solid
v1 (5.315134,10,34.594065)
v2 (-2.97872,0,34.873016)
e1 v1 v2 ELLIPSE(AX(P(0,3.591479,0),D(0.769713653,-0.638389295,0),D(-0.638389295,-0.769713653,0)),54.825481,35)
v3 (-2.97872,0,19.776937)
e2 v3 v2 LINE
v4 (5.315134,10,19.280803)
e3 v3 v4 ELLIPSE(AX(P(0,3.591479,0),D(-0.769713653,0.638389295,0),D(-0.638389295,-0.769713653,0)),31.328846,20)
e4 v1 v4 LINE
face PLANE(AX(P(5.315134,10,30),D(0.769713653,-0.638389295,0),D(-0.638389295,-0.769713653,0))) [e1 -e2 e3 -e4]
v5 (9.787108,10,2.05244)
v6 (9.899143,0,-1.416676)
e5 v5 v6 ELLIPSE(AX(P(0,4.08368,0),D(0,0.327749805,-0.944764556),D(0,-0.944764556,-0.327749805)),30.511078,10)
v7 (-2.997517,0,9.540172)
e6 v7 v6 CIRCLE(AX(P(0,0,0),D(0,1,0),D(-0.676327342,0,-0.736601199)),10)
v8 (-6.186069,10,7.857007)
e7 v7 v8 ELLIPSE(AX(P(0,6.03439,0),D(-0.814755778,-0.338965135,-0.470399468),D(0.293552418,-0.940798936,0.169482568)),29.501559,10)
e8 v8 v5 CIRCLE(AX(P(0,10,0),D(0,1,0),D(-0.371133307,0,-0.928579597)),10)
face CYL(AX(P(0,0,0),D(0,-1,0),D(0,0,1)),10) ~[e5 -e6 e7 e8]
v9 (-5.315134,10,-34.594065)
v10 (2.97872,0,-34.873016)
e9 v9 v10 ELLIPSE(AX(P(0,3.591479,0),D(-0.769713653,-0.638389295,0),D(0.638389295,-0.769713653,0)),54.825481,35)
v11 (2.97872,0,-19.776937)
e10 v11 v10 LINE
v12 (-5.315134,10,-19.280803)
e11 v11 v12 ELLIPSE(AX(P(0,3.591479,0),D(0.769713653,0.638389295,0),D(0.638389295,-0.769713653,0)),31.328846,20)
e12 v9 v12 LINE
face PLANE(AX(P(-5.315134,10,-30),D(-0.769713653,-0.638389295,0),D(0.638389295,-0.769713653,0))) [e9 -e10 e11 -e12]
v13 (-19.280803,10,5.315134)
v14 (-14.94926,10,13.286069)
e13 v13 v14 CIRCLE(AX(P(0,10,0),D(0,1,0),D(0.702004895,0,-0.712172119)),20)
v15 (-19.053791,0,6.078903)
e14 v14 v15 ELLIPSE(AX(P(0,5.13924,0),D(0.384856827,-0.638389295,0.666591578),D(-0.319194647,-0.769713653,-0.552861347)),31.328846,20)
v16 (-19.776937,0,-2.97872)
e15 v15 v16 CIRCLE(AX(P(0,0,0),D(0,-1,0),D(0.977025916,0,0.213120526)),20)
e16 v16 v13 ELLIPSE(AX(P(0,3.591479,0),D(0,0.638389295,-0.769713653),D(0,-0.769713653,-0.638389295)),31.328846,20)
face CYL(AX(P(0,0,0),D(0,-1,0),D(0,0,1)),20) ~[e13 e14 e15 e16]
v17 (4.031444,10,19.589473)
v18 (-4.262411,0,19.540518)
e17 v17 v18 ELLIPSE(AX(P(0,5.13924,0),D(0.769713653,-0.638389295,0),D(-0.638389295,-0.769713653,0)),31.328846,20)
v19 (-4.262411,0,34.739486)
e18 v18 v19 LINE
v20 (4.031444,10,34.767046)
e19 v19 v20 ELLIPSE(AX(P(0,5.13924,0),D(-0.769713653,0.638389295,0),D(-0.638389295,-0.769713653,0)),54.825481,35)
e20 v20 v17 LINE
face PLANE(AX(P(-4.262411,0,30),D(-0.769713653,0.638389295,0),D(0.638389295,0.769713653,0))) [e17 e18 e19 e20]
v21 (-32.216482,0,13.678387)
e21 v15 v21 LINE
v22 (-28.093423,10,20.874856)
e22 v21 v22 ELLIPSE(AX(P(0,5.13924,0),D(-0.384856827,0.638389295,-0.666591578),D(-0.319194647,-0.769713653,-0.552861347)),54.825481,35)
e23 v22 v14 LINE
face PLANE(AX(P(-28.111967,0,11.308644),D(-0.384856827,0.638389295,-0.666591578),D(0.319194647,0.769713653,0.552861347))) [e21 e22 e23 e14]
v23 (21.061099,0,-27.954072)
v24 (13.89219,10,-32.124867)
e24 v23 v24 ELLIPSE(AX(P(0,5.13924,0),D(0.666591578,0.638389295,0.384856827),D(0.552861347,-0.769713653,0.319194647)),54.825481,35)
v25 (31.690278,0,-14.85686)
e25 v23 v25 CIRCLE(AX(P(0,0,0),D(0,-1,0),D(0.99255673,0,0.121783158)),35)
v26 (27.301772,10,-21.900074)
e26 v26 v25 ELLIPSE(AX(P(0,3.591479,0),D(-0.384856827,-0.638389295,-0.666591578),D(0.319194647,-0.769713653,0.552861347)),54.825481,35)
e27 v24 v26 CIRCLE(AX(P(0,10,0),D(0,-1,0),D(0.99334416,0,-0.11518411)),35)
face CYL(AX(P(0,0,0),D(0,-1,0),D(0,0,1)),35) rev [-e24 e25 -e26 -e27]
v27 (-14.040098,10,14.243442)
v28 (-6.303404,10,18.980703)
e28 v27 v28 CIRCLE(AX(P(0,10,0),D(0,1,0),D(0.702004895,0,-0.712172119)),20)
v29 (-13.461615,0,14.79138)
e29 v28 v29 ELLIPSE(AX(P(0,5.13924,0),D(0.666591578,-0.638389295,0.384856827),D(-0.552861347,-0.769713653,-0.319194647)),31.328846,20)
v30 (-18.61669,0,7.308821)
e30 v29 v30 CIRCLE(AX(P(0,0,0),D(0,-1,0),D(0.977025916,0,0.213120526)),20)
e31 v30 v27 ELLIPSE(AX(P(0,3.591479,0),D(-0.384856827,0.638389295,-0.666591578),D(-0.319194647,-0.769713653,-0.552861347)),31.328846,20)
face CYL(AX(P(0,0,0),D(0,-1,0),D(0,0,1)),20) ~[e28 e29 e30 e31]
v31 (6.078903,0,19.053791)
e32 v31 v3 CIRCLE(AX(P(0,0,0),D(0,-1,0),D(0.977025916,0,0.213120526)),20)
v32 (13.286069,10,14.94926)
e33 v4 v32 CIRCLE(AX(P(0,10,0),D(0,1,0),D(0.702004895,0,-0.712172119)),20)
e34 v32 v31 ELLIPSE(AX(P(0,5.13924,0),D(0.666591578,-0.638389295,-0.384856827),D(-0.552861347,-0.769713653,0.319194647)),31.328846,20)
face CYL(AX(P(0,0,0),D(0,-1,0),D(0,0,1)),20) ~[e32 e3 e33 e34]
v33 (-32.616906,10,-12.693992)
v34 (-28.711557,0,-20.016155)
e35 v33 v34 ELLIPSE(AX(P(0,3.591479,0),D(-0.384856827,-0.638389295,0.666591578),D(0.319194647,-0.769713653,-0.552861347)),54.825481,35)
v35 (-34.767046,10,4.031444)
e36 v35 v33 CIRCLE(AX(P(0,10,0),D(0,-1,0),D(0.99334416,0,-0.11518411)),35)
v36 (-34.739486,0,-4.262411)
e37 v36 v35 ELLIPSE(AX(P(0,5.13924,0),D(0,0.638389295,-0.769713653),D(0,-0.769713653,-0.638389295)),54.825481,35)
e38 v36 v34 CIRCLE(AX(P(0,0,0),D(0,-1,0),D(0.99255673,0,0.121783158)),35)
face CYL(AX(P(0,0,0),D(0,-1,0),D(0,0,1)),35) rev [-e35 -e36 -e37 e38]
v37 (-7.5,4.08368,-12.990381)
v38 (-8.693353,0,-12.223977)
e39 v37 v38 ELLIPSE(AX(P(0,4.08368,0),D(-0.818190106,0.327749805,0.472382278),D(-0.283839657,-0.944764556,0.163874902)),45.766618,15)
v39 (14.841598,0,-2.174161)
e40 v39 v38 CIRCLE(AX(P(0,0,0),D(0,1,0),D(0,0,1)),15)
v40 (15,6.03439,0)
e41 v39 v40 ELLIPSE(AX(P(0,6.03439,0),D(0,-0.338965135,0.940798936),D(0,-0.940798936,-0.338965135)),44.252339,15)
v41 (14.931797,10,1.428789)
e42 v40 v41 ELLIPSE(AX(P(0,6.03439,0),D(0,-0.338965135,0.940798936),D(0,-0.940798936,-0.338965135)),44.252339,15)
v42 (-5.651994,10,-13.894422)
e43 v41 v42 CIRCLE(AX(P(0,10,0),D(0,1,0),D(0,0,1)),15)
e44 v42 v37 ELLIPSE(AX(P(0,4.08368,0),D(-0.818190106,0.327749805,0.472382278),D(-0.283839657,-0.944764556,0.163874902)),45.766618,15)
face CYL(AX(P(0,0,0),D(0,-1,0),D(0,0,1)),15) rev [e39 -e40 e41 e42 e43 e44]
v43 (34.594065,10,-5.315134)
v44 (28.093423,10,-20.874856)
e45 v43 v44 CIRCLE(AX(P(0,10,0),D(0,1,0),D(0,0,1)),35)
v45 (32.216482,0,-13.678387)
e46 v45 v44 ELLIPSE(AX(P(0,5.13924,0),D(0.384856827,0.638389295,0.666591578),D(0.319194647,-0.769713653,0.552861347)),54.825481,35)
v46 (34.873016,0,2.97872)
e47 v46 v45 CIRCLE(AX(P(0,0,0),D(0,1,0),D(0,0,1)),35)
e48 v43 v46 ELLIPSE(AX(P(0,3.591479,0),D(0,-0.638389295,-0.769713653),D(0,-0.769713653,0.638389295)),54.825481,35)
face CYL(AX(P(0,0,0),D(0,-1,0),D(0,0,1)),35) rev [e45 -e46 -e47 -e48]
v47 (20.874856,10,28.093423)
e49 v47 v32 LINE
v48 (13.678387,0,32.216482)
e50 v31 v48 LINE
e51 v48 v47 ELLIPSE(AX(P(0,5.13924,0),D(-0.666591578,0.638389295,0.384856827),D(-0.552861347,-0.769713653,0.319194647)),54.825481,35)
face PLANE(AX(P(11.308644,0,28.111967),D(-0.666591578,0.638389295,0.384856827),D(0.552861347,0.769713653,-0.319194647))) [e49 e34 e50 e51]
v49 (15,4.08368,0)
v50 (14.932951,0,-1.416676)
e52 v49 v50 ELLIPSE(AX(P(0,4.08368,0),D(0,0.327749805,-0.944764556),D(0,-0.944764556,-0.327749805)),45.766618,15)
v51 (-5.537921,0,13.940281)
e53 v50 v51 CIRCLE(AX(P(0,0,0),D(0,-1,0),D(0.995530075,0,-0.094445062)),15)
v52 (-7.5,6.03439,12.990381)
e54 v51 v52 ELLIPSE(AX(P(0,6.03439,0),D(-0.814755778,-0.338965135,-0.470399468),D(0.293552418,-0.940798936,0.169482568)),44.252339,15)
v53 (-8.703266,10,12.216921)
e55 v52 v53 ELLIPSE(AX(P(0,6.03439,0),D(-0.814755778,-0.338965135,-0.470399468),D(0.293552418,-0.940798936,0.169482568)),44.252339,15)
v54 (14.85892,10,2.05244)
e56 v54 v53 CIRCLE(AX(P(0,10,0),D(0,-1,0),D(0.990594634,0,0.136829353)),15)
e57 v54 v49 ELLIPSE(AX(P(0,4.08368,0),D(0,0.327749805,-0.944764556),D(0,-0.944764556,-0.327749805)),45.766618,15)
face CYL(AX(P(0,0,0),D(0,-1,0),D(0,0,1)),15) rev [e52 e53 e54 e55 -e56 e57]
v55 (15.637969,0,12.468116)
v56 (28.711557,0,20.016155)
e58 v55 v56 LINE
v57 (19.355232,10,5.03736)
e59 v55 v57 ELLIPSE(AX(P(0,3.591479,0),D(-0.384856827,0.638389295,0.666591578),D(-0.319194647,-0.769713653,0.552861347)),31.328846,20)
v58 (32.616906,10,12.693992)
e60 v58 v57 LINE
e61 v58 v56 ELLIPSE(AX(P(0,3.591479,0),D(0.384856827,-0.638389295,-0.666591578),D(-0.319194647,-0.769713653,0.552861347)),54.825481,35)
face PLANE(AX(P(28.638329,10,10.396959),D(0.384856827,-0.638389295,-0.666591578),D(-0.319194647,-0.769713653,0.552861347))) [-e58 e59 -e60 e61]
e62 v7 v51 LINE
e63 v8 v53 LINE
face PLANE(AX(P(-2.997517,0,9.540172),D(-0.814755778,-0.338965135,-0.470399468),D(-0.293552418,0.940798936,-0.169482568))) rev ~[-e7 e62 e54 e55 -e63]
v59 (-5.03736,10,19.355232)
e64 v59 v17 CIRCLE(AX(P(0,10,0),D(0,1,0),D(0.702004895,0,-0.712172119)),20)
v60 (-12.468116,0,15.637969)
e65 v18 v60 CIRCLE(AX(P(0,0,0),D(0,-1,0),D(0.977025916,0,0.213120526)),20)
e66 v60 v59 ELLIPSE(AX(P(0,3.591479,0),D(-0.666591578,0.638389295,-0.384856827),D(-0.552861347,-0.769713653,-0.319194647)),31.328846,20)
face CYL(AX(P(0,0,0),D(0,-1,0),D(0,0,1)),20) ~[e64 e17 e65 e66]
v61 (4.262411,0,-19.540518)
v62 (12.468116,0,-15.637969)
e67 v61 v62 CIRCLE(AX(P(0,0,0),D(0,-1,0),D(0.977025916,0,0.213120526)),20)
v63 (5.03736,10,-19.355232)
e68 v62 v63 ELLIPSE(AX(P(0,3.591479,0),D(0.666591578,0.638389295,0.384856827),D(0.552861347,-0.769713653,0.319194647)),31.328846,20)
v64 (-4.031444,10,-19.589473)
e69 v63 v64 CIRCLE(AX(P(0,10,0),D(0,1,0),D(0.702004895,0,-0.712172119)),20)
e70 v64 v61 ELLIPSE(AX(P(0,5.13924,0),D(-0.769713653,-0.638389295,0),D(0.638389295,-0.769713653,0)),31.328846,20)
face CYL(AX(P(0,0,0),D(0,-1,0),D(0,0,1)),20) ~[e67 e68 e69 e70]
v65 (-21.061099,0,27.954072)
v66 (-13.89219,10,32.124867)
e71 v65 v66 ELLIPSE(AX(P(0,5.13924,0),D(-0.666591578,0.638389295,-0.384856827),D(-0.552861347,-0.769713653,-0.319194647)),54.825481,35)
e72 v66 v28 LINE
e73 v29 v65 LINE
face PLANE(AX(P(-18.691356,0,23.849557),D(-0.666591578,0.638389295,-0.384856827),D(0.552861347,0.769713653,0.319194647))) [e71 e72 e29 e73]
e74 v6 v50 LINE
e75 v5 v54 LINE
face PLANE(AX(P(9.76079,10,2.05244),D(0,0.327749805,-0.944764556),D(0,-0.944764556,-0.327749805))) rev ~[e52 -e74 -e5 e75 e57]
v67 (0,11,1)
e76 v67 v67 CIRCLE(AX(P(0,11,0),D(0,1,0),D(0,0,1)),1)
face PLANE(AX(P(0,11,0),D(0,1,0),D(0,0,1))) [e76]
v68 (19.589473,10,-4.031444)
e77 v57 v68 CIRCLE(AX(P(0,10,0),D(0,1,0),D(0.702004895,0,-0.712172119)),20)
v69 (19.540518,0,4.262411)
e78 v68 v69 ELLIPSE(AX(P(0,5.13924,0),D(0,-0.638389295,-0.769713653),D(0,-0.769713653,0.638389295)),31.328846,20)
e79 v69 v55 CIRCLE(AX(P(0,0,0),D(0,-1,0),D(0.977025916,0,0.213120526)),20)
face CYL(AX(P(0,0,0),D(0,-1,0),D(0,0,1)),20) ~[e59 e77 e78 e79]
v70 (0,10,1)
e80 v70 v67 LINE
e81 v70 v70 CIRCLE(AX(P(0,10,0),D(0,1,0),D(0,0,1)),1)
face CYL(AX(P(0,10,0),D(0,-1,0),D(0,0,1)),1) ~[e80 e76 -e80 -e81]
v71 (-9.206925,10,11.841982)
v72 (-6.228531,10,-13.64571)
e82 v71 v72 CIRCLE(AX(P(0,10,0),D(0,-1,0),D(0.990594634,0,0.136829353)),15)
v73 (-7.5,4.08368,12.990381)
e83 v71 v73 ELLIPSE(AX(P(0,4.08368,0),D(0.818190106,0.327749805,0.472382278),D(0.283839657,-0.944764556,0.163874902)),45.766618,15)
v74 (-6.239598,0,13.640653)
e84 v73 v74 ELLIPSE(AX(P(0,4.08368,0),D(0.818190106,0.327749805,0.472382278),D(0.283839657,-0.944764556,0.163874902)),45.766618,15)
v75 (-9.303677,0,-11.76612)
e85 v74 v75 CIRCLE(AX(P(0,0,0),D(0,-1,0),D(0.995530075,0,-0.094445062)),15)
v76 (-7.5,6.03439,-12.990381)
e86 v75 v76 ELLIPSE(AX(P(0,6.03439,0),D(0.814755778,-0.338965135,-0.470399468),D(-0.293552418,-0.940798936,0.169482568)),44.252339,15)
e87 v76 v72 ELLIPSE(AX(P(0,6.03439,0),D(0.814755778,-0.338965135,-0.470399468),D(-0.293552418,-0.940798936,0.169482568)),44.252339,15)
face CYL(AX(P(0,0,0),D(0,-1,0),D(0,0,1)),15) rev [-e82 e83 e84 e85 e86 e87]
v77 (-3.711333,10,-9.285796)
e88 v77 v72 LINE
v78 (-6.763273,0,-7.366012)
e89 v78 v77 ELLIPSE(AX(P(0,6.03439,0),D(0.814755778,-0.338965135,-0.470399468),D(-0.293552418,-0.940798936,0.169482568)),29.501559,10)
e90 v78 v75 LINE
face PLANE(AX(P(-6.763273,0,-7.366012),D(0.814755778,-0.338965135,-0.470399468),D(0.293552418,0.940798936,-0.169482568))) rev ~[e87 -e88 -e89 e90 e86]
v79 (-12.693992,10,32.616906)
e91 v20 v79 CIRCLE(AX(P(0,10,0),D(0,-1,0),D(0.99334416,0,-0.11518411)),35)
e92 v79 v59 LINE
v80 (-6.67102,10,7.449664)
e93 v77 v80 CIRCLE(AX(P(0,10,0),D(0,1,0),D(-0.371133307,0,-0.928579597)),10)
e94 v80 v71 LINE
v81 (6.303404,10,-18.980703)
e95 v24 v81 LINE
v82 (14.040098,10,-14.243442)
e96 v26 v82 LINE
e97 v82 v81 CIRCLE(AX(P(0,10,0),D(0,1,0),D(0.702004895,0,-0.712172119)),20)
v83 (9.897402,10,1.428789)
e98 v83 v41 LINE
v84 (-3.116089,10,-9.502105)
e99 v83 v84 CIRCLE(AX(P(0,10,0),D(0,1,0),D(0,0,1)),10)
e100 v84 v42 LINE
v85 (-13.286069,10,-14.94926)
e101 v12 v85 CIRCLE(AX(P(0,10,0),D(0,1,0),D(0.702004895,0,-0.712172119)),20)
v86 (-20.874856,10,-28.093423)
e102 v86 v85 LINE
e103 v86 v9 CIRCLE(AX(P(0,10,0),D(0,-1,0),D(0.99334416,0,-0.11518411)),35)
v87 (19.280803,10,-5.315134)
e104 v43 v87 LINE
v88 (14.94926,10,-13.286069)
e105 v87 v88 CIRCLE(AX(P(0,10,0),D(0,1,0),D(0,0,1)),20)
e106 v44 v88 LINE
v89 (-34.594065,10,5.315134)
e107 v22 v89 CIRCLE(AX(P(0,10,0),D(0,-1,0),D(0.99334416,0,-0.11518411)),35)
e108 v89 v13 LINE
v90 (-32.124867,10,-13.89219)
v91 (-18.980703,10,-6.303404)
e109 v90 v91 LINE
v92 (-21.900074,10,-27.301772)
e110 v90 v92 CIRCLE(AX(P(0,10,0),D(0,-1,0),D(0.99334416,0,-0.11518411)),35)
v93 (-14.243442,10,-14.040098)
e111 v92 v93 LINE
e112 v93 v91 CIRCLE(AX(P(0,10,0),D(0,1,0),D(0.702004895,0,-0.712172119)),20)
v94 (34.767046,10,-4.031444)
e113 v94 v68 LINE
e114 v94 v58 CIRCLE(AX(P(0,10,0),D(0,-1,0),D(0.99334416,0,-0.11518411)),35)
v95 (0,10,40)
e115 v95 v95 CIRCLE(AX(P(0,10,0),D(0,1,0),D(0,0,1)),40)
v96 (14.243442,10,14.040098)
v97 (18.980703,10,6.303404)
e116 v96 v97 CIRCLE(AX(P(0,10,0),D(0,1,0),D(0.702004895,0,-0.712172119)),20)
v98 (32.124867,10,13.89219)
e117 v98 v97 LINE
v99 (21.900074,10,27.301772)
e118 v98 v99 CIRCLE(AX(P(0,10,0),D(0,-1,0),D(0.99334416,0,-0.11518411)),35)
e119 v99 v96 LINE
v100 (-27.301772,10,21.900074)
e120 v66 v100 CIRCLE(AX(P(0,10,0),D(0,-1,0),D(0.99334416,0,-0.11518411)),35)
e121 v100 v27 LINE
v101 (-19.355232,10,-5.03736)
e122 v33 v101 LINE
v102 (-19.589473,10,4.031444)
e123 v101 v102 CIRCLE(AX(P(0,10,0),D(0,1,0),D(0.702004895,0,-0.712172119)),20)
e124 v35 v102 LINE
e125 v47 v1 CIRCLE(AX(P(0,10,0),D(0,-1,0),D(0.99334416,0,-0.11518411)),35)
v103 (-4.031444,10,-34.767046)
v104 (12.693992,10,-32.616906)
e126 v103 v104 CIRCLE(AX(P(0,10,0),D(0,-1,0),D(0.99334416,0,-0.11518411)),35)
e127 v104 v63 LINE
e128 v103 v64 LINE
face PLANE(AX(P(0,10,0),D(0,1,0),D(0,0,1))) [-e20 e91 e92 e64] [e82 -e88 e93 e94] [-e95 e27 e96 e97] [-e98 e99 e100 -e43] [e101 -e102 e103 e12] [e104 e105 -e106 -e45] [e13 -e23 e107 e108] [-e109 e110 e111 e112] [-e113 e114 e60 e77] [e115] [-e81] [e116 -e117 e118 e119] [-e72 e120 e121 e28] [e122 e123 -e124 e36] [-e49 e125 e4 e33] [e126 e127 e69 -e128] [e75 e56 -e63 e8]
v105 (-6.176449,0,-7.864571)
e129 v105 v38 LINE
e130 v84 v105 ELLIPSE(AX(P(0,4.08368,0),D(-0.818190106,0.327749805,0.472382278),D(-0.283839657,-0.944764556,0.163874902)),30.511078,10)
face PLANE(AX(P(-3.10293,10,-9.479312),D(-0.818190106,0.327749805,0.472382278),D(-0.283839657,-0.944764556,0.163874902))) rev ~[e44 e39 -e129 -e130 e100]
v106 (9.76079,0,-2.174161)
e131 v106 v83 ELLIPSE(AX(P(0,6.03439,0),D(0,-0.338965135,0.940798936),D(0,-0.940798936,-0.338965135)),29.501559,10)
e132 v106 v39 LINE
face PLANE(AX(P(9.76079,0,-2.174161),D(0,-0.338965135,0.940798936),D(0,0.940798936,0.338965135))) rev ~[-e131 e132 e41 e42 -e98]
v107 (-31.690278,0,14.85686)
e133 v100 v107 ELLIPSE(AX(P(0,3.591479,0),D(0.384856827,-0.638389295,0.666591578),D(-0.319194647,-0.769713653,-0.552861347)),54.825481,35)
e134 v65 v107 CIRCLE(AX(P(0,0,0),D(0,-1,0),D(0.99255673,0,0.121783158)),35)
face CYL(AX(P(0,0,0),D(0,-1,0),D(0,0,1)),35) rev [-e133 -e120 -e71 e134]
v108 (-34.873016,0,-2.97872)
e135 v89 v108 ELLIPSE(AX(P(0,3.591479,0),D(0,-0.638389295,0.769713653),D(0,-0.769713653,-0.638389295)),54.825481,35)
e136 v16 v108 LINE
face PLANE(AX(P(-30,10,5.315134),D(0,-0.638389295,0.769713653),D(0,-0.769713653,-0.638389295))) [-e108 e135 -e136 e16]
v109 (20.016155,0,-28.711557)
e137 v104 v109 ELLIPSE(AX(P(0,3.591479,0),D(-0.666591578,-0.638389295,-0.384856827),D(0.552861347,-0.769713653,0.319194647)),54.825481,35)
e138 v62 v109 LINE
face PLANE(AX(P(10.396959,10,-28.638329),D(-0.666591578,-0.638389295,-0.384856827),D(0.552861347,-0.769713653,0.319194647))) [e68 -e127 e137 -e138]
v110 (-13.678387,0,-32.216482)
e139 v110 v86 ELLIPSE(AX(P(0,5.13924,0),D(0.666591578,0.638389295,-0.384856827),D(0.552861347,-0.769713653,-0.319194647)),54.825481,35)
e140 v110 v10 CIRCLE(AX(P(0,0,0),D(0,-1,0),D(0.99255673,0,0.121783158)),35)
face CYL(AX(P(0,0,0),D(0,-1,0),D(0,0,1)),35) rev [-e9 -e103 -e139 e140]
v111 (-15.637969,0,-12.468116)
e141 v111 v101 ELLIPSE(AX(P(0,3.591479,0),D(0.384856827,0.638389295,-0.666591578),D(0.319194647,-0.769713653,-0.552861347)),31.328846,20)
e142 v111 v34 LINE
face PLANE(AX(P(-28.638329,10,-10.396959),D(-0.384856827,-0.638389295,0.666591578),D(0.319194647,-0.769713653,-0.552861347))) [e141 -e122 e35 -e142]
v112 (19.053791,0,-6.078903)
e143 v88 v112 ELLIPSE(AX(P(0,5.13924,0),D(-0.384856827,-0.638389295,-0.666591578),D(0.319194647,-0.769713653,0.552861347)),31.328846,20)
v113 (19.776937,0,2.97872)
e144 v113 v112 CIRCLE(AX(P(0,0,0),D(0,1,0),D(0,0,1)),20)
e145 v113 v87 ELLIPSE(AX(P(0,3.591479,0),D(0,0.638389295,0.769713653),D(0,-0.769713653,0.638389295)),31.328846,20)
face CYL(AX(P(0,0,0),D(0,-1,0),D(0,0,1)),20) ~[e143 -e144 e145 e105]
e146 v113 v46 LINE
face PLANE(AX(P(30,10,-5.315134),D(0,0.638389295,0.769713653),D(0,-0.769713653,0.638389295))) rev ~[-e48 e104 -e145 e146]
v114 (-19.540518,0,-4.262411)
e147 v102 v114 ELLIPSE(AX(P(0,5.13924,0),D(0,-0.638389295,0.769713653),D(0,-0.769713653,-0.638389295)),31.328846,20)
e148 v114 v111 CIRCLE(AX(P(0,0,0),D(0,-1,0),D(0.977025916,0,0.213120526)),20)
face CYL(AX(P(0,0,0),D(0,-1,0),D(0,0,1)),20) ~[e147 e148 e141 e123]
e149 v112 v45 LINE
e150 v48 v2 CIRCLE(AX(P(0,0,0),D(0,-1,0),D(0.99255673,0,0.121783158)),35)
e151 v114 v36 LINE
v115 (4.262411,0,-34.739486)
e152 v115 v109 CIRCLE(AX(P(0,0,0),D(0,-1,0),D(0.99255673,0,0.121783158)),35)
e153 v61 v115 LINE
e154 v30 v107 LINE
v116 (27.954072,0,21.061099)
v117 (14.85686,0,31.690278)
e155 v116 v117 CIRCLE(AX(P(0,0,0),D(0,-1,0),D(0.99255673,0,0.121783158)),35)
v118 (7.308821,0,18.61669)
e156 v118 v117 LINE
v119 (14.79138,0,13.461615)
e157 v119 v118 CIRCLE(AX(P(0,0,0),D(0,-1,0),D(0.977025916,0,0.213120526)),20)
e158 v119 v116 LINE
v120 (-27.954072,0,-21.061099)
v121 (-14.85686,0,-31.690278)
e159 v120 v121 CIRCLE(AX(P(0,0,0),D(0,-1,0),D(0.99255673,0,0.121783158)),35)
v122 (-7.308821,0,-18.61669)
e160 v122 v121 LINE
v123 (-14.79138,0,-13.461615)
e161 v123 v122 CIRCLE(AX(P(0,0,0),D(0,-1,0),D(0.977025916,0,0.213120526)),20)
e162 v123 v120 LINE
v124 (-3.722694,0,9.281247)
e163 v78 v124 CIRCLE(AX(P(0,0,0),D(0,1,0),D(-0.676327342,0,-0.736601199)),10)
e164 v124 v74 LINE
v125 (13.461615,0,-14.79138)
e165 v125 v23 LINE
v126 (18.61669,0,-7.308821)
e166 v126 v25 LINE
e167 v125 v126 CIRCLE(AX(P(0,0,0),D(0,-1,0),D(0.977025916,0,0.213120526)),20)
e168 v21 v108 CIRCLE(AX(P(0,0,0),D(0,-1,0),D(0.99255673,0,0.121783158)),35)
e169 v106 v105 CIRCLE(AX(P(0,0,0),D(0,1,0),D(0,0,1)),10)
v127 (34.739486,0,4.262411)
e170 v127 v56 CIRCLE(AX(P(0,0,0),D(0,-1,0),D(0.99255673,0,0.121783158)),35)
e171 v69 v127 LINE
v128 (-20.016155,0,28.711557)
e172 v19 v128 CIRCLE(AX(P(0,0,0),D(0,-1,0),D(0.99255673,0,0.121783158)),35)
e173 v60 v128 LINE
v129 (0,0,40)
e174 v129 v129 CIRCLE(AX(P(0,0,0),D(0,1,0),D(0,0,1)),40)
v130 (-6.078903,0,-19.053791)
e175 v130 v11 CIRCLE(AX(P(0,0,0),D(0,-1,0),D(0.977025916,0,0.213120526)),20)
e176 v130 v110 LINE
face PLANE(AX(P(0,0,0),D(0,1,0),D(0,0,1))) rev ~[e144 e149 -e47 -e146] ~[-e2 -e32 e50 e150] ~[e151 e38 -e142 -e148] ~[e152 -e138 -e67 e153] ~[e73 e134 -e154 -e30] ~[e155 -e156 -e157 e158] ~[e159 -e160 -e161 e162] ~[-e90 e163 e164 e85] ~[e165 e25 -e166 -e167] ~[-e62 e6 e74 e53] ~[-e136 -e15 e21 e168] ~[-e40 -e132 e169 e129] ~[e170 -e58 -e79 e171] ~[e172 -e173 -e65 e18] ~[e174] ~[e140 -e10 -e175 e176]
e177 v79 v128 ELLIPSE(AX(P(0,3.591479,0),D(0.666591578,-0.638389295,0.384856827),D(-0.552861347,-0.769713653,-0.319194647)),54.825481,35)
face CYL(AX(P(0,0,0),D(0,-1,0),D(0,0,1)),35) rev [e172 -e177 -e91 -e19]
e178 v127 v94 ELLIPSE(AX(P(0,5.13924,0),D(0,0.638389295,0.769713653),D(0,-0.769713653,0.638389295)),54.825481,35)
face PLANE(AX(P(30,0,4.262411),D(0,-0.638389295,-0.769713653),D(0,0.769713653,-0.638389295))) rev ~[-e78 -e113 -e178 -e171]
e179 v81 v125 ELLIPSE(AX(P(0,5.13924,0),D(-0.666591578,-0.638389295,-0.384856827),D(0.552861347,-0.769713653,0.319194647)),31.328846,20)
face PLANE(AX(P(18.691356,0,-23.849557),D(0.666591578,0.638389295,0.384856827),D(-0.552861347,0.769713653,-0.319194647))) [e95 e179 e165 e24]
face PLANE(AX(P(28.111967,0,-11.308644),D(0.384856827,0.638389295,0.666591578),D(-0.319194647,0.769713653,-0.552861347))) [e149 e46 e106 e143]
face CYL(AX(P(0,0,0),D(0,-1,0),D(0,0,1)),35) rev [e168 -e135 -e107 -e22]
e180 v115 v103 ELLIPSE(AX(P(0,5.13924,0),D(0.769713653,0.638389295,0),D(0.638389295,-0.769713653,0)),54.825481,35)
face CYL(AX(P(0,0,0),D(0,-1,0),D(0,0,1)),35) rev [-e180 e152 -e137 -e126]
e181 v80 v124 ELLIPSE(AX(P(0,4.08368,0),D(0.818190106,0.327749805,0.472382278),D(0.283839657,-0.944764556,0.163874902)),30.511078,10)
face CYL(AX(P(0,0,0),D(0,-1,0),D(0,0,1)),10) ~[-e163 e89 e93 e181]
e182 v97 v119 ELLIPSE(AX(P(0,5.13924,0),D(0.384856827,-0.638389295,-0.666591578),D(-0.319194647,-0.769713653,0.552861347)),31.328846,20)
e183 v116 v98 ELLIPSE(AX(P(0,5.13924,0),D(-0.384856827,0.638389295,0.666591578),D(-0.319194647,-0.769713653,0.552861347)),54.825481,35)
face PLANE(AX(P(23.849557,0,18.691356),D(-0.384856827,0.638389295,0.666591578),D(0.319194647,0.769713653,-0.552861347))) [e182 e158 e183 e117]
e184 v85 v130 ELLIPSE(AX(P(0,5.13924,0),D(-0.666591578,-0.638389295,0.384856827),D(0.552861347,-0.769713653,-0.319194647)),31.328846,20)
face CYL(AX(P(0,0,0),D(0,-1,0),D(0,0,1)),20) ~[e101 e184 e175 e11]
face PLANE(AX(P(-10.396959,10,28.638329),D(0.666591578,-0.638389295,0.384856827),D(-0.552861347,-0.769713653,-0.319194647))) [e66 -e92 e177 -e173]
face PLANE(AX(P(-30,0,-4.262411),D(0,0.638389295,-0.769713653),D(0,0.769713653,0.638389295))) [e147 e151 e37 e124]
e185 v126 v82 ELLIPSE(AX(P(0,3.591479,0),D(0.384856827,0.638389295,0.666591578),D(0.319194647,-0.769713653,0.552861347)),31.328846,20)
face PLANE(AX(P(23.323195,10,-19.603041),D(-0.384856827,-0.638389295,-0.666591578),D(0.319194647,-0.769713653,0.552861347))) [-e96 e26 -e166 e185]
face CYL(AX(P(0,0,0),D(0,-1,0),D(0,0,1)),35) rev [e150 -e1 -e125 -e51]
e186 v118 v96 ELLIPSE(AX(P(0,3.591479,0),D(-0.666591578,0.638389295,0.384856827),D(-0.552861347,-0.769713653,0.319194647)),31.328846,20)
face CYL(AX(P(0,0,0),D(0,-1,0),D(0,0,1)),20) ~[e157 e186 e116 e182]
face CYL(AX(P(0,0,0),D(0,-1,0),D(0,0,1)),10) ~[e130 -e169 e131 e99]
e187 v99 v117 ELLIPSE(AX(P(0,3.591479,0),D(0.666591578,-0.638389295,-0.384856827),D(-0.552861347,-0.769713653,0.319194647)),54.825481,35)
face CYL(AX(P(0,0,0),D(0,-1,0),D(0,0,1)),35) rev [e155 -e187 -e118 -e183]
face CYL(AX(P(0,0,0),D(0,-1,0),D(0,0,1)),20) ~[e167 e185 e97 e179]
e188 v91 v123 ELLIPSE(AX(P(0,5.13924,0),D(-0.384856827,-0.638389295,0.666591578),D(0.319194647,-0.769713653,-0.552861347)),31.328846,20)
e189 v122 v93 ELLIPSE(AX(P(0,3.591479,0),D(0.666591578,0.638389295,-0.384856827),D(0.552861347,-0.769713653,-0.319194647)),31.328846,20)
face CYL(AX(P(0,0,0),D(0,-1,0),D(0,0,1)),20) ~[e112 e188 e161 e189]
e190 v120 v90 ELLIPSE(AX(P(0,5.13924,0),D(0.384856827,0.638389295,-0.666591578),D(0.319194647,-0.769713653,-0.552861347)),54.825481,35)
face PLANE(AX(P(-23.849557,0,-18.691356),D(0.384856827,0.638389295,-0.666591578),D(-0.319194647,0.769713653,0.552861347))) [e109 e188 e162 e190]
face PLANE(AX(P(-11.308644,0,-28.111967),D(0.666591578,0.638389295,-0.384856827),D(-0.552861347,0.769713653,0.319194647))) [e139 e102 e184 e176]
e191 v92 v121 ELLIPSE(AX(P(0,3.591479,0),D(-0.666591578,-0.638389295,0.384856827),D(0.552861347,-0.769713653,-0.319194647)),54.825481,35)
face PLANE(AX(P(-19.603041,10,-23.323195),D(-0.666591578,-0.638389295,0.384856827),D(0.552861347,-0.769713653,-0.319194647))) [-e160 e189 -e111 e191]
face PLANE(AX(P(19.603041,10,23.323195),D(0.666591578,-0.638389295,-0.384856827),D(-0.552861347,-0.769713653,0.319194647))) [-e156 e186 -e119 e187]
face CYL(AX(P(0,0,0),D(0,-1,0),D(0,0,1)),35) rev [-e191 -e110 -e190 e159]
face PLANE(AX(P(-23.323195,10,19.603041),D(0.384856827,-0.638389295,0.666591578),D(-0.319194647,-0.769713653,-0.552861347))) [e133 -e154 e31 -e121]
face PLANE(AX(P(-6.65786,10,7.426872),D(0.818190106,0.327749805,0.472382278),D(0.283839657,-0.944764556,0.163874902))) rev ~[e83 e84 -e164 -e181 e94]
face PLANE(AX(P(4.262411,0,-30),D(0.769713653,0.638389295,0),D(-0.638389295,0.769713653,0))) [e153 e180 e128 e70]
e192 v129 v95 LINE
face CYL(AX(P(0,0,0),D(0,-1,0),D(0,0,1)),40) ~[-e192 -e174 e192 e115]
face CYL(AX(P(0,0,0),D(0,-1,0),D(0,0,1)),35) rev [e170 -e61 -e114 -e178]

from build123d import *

# Parameters (mm, degrees)
SKETCH1_R                            = 10
BOSS_EXTRUDE1_DEPTH                  = 10
SKETCH1_R_2                          = 20
SKETCH1_R_3                          = 15
BOSS_EXTRUDE1_2_DEPTH                = 10
SKETCH1_R_4                          = 40
SKETCH1_R_5                          = 35
BOSS_EXTRUDE1_3_DEPTH                = 10
BOSS_EXTRUDE2_REACH                  = 89.446
BOSS_EXTRUDE2_END_RADIUS             = 35
BOSS_EXTRUDE2_START                  = 30
BOSS_EXTRUDE2_DIRECTION_2_REACH      = 89.446
BOSS_EXTRUDE2_DIRECTION_2_END_RADIUS = 20
CIRPATTERN1_COUNT                    = 12
BOSS_EXTRUDE3_START                  = 9.76079
BOSS_EXTRUDE3_DEPTH                  = 5.23921
CIRPATTERN3_COUNT                    = 3
SKETCH6_R                            = 1
BOSS_EXTRUDE4_DEPTH                  = 1


with BuildPart() as part:
    # Sketch1 → Boss-Extrude1 (new body)
    with BuildSketch(Plane(origin=(0, 0, 0), x_dir=(1, 0, 0), z_dir=(0, 1, 0))):
        with Locations(Location((0, 0, 0), (0, 0, 270))):
            Circle(SKETCH1_R)
    extrude(amount=BOSS_EXTRUDE1_DEPTH)



with BuildPart() as body_2:
    # Sketch1 → Boss-Extrude1 2 (new body)
    with BuildSketch(Plane(origin=(0, 0, 0), x_dir=(1, 0, 0), z_dir=(0, 1, 0))):
        with Locations(Location((0, 0, 0), (0, 0, 270))):
            Circle(SKETCH1_R_2)
        with Locations(Location((0, 0, 0), (0, 0, 270))):
            Circle(SKETCH1_R_3, mode=Mode.SUBTRACT)
    extrude(amount=BOSS_EXTRUDE1_2_DEPTH)


with BuildPart() as body_3:
    # Sketch1 → Boss-Extrude1 3 (new body)
    with BuildSketch(Plane(origin=(0, 0, 0), x_dir=(1, 0, 0), z_dir=(0, 1, 0))):
        with Locations(Location((0, 0, 0), (0, 0, 270))):
            Circle(SKETCH1_R_4)
        with Locations(Location((0, 0, 0), (0, 0, 270))):
            Circle(SKETCH1_R_5, mode=Mode.SUBTRACT)
    extrude(amount=BOSS_EXTRUDE1_3_DEPTH)


    add(body_2.part)  # Boss-Extrude2 merges body 2
    # Boss-Extrude2: up to this cylinder (the profile starts inside it)
    boss_extrude2_end = Plane(origin=(0, 5, 0), z_dir=(0, -1, 0)) * Cylinder(BOSS_EXTRUDE2_END_RADIUS, 249.892, mode=Mode.PRIVATE)
    # Sketch4 → Boss-Extrude2 (add, up to the surface)
    with BuildSketch(Plane(origin=(0, 0, 0), x_dir=(0, 0, -1), z_dir=(1, 0, 0)).offset(BOSS_EXTRUDE2_START), mode=Mode.PRIVATE) as boss_extrude2_sk1:
        Polygon((-4.262410526, 0), (4.031443844, 10), (5.315133993, 10), (-2.978720377, 0), align=None)
    boss_extrude2_tool1 = extrude(boss_extrude2_sk1.sketch, amount=BOSS_EXTRUDE2_REACH, mode=Mode.PRIVATE) & boss_extrude2_end
    boss_extrude2 = boss_extrude2_tool1.solids().sort_by_distance((30, 5, -0.526362))[0]
    add(boss_extrude2)

    # Boss-Extrude2 direction 2: up to this cylinder (the profile starts outside it)
    boss_extrude2_direction_2_end = Plane(origin=(0, 5, 0), z_dir=(0, -1, 0)) * Cylinder(BOSS_EXTRUDE2_DIRECTION_2_END_RADIUS, 219.892, mode=Mode.PRIVATE)
    # Sketch4 → Boss-Extrude2 direction 2 (add, up to the surface)
    with BuildSketch(Plane(origin=(0, 0, 0), x_dir=(0, 0, -1), z_dir=(1, 0, 0)).offset(BOSS_EXTRUDE2_START), mode=Mode.PRIVATE) as boss_extrude2_direction_2_sk1:
        Polygon((-4.262410526, 0), (4.031443844, 10), (5.315133993, 10), (-2.978720377, 0), align=None)
    boss_extrude2_direction_2_tool1 = extrude(boss_extrude2_direction_2_sk1.sketch, amount=-BOSS_EXTRUDE2_DIRECTION_2_REACH, mode=Mode.PRIVATE) - boss_extrude2_direction_2_end
    boss_extrude2_direction_2 = boss_extrude2_direction_2_tool1.solids().sort_by_distance((30, 5, -0.526362))[0]
    add(boss_extrude2_direction_2)
    boss_extrude2 = boss_extrude2 + boss_extrude2_direction_2  # both directions under the feature's name, for the pattern or mirror that repeats it

    # CirPattern1: Boss-Extrude2 ×12 about axis
    cirpattern1_axis = Axis((0, 0, 0), (0, 1, 0))
    for i in range(1, CIRPATTERN1_COUNT):
        add(boss_extrude2.rotate(cirpattern1_axis, i * 360 / CIRPATTERN1_COUNT))


with BuildPart() as part_1:
    add(part.part)

    add(body_3.part)  # Boss-Extrude3 merges body 3
    # Sketch5 → Boss-Extrude3 (add)
    with BuildSketch(Plane(origin=(0, 0, 0), x_dir=(0, 0, -1), z_dir=(1, 0, 0)).offset(BOSS_EXTRUDE3_START)):
        Polygon((-2.0524403, 10), (1.416675924, 0), (2.174160553, 0), (-1.428789261, 10), align=None)
    boss_extrude3 = extrude(amount=BOSS_EXTRUDE3_DEPTH)

    # CirPattern3: Boss-Extrude3 ×3 about axis
    cirpattern3_axis = Axis((0, 0, 0), (0, 1, 0))
    for i in range(1, CIRPATTERN3_COUNT):
        add(boss_extrude3.rotate(cirpattern3_axis, i * 360 / CIRPATTERN3_COUNT))

    # Sketch6 → Boss-Extrude4 (add)
    with BuildSketch(Plane(origin=(0, 10, 0), x_dir=(1, 0, 0), z_dir=(0, 1, 0))):
        with Locations(Location((0, 0, 0), (0, 0, 270))):
            Circle(SKETCH6_R)
    extrude(amount=BOSS_EXTRUDE4_DEPTH)


solid = part_1.part
